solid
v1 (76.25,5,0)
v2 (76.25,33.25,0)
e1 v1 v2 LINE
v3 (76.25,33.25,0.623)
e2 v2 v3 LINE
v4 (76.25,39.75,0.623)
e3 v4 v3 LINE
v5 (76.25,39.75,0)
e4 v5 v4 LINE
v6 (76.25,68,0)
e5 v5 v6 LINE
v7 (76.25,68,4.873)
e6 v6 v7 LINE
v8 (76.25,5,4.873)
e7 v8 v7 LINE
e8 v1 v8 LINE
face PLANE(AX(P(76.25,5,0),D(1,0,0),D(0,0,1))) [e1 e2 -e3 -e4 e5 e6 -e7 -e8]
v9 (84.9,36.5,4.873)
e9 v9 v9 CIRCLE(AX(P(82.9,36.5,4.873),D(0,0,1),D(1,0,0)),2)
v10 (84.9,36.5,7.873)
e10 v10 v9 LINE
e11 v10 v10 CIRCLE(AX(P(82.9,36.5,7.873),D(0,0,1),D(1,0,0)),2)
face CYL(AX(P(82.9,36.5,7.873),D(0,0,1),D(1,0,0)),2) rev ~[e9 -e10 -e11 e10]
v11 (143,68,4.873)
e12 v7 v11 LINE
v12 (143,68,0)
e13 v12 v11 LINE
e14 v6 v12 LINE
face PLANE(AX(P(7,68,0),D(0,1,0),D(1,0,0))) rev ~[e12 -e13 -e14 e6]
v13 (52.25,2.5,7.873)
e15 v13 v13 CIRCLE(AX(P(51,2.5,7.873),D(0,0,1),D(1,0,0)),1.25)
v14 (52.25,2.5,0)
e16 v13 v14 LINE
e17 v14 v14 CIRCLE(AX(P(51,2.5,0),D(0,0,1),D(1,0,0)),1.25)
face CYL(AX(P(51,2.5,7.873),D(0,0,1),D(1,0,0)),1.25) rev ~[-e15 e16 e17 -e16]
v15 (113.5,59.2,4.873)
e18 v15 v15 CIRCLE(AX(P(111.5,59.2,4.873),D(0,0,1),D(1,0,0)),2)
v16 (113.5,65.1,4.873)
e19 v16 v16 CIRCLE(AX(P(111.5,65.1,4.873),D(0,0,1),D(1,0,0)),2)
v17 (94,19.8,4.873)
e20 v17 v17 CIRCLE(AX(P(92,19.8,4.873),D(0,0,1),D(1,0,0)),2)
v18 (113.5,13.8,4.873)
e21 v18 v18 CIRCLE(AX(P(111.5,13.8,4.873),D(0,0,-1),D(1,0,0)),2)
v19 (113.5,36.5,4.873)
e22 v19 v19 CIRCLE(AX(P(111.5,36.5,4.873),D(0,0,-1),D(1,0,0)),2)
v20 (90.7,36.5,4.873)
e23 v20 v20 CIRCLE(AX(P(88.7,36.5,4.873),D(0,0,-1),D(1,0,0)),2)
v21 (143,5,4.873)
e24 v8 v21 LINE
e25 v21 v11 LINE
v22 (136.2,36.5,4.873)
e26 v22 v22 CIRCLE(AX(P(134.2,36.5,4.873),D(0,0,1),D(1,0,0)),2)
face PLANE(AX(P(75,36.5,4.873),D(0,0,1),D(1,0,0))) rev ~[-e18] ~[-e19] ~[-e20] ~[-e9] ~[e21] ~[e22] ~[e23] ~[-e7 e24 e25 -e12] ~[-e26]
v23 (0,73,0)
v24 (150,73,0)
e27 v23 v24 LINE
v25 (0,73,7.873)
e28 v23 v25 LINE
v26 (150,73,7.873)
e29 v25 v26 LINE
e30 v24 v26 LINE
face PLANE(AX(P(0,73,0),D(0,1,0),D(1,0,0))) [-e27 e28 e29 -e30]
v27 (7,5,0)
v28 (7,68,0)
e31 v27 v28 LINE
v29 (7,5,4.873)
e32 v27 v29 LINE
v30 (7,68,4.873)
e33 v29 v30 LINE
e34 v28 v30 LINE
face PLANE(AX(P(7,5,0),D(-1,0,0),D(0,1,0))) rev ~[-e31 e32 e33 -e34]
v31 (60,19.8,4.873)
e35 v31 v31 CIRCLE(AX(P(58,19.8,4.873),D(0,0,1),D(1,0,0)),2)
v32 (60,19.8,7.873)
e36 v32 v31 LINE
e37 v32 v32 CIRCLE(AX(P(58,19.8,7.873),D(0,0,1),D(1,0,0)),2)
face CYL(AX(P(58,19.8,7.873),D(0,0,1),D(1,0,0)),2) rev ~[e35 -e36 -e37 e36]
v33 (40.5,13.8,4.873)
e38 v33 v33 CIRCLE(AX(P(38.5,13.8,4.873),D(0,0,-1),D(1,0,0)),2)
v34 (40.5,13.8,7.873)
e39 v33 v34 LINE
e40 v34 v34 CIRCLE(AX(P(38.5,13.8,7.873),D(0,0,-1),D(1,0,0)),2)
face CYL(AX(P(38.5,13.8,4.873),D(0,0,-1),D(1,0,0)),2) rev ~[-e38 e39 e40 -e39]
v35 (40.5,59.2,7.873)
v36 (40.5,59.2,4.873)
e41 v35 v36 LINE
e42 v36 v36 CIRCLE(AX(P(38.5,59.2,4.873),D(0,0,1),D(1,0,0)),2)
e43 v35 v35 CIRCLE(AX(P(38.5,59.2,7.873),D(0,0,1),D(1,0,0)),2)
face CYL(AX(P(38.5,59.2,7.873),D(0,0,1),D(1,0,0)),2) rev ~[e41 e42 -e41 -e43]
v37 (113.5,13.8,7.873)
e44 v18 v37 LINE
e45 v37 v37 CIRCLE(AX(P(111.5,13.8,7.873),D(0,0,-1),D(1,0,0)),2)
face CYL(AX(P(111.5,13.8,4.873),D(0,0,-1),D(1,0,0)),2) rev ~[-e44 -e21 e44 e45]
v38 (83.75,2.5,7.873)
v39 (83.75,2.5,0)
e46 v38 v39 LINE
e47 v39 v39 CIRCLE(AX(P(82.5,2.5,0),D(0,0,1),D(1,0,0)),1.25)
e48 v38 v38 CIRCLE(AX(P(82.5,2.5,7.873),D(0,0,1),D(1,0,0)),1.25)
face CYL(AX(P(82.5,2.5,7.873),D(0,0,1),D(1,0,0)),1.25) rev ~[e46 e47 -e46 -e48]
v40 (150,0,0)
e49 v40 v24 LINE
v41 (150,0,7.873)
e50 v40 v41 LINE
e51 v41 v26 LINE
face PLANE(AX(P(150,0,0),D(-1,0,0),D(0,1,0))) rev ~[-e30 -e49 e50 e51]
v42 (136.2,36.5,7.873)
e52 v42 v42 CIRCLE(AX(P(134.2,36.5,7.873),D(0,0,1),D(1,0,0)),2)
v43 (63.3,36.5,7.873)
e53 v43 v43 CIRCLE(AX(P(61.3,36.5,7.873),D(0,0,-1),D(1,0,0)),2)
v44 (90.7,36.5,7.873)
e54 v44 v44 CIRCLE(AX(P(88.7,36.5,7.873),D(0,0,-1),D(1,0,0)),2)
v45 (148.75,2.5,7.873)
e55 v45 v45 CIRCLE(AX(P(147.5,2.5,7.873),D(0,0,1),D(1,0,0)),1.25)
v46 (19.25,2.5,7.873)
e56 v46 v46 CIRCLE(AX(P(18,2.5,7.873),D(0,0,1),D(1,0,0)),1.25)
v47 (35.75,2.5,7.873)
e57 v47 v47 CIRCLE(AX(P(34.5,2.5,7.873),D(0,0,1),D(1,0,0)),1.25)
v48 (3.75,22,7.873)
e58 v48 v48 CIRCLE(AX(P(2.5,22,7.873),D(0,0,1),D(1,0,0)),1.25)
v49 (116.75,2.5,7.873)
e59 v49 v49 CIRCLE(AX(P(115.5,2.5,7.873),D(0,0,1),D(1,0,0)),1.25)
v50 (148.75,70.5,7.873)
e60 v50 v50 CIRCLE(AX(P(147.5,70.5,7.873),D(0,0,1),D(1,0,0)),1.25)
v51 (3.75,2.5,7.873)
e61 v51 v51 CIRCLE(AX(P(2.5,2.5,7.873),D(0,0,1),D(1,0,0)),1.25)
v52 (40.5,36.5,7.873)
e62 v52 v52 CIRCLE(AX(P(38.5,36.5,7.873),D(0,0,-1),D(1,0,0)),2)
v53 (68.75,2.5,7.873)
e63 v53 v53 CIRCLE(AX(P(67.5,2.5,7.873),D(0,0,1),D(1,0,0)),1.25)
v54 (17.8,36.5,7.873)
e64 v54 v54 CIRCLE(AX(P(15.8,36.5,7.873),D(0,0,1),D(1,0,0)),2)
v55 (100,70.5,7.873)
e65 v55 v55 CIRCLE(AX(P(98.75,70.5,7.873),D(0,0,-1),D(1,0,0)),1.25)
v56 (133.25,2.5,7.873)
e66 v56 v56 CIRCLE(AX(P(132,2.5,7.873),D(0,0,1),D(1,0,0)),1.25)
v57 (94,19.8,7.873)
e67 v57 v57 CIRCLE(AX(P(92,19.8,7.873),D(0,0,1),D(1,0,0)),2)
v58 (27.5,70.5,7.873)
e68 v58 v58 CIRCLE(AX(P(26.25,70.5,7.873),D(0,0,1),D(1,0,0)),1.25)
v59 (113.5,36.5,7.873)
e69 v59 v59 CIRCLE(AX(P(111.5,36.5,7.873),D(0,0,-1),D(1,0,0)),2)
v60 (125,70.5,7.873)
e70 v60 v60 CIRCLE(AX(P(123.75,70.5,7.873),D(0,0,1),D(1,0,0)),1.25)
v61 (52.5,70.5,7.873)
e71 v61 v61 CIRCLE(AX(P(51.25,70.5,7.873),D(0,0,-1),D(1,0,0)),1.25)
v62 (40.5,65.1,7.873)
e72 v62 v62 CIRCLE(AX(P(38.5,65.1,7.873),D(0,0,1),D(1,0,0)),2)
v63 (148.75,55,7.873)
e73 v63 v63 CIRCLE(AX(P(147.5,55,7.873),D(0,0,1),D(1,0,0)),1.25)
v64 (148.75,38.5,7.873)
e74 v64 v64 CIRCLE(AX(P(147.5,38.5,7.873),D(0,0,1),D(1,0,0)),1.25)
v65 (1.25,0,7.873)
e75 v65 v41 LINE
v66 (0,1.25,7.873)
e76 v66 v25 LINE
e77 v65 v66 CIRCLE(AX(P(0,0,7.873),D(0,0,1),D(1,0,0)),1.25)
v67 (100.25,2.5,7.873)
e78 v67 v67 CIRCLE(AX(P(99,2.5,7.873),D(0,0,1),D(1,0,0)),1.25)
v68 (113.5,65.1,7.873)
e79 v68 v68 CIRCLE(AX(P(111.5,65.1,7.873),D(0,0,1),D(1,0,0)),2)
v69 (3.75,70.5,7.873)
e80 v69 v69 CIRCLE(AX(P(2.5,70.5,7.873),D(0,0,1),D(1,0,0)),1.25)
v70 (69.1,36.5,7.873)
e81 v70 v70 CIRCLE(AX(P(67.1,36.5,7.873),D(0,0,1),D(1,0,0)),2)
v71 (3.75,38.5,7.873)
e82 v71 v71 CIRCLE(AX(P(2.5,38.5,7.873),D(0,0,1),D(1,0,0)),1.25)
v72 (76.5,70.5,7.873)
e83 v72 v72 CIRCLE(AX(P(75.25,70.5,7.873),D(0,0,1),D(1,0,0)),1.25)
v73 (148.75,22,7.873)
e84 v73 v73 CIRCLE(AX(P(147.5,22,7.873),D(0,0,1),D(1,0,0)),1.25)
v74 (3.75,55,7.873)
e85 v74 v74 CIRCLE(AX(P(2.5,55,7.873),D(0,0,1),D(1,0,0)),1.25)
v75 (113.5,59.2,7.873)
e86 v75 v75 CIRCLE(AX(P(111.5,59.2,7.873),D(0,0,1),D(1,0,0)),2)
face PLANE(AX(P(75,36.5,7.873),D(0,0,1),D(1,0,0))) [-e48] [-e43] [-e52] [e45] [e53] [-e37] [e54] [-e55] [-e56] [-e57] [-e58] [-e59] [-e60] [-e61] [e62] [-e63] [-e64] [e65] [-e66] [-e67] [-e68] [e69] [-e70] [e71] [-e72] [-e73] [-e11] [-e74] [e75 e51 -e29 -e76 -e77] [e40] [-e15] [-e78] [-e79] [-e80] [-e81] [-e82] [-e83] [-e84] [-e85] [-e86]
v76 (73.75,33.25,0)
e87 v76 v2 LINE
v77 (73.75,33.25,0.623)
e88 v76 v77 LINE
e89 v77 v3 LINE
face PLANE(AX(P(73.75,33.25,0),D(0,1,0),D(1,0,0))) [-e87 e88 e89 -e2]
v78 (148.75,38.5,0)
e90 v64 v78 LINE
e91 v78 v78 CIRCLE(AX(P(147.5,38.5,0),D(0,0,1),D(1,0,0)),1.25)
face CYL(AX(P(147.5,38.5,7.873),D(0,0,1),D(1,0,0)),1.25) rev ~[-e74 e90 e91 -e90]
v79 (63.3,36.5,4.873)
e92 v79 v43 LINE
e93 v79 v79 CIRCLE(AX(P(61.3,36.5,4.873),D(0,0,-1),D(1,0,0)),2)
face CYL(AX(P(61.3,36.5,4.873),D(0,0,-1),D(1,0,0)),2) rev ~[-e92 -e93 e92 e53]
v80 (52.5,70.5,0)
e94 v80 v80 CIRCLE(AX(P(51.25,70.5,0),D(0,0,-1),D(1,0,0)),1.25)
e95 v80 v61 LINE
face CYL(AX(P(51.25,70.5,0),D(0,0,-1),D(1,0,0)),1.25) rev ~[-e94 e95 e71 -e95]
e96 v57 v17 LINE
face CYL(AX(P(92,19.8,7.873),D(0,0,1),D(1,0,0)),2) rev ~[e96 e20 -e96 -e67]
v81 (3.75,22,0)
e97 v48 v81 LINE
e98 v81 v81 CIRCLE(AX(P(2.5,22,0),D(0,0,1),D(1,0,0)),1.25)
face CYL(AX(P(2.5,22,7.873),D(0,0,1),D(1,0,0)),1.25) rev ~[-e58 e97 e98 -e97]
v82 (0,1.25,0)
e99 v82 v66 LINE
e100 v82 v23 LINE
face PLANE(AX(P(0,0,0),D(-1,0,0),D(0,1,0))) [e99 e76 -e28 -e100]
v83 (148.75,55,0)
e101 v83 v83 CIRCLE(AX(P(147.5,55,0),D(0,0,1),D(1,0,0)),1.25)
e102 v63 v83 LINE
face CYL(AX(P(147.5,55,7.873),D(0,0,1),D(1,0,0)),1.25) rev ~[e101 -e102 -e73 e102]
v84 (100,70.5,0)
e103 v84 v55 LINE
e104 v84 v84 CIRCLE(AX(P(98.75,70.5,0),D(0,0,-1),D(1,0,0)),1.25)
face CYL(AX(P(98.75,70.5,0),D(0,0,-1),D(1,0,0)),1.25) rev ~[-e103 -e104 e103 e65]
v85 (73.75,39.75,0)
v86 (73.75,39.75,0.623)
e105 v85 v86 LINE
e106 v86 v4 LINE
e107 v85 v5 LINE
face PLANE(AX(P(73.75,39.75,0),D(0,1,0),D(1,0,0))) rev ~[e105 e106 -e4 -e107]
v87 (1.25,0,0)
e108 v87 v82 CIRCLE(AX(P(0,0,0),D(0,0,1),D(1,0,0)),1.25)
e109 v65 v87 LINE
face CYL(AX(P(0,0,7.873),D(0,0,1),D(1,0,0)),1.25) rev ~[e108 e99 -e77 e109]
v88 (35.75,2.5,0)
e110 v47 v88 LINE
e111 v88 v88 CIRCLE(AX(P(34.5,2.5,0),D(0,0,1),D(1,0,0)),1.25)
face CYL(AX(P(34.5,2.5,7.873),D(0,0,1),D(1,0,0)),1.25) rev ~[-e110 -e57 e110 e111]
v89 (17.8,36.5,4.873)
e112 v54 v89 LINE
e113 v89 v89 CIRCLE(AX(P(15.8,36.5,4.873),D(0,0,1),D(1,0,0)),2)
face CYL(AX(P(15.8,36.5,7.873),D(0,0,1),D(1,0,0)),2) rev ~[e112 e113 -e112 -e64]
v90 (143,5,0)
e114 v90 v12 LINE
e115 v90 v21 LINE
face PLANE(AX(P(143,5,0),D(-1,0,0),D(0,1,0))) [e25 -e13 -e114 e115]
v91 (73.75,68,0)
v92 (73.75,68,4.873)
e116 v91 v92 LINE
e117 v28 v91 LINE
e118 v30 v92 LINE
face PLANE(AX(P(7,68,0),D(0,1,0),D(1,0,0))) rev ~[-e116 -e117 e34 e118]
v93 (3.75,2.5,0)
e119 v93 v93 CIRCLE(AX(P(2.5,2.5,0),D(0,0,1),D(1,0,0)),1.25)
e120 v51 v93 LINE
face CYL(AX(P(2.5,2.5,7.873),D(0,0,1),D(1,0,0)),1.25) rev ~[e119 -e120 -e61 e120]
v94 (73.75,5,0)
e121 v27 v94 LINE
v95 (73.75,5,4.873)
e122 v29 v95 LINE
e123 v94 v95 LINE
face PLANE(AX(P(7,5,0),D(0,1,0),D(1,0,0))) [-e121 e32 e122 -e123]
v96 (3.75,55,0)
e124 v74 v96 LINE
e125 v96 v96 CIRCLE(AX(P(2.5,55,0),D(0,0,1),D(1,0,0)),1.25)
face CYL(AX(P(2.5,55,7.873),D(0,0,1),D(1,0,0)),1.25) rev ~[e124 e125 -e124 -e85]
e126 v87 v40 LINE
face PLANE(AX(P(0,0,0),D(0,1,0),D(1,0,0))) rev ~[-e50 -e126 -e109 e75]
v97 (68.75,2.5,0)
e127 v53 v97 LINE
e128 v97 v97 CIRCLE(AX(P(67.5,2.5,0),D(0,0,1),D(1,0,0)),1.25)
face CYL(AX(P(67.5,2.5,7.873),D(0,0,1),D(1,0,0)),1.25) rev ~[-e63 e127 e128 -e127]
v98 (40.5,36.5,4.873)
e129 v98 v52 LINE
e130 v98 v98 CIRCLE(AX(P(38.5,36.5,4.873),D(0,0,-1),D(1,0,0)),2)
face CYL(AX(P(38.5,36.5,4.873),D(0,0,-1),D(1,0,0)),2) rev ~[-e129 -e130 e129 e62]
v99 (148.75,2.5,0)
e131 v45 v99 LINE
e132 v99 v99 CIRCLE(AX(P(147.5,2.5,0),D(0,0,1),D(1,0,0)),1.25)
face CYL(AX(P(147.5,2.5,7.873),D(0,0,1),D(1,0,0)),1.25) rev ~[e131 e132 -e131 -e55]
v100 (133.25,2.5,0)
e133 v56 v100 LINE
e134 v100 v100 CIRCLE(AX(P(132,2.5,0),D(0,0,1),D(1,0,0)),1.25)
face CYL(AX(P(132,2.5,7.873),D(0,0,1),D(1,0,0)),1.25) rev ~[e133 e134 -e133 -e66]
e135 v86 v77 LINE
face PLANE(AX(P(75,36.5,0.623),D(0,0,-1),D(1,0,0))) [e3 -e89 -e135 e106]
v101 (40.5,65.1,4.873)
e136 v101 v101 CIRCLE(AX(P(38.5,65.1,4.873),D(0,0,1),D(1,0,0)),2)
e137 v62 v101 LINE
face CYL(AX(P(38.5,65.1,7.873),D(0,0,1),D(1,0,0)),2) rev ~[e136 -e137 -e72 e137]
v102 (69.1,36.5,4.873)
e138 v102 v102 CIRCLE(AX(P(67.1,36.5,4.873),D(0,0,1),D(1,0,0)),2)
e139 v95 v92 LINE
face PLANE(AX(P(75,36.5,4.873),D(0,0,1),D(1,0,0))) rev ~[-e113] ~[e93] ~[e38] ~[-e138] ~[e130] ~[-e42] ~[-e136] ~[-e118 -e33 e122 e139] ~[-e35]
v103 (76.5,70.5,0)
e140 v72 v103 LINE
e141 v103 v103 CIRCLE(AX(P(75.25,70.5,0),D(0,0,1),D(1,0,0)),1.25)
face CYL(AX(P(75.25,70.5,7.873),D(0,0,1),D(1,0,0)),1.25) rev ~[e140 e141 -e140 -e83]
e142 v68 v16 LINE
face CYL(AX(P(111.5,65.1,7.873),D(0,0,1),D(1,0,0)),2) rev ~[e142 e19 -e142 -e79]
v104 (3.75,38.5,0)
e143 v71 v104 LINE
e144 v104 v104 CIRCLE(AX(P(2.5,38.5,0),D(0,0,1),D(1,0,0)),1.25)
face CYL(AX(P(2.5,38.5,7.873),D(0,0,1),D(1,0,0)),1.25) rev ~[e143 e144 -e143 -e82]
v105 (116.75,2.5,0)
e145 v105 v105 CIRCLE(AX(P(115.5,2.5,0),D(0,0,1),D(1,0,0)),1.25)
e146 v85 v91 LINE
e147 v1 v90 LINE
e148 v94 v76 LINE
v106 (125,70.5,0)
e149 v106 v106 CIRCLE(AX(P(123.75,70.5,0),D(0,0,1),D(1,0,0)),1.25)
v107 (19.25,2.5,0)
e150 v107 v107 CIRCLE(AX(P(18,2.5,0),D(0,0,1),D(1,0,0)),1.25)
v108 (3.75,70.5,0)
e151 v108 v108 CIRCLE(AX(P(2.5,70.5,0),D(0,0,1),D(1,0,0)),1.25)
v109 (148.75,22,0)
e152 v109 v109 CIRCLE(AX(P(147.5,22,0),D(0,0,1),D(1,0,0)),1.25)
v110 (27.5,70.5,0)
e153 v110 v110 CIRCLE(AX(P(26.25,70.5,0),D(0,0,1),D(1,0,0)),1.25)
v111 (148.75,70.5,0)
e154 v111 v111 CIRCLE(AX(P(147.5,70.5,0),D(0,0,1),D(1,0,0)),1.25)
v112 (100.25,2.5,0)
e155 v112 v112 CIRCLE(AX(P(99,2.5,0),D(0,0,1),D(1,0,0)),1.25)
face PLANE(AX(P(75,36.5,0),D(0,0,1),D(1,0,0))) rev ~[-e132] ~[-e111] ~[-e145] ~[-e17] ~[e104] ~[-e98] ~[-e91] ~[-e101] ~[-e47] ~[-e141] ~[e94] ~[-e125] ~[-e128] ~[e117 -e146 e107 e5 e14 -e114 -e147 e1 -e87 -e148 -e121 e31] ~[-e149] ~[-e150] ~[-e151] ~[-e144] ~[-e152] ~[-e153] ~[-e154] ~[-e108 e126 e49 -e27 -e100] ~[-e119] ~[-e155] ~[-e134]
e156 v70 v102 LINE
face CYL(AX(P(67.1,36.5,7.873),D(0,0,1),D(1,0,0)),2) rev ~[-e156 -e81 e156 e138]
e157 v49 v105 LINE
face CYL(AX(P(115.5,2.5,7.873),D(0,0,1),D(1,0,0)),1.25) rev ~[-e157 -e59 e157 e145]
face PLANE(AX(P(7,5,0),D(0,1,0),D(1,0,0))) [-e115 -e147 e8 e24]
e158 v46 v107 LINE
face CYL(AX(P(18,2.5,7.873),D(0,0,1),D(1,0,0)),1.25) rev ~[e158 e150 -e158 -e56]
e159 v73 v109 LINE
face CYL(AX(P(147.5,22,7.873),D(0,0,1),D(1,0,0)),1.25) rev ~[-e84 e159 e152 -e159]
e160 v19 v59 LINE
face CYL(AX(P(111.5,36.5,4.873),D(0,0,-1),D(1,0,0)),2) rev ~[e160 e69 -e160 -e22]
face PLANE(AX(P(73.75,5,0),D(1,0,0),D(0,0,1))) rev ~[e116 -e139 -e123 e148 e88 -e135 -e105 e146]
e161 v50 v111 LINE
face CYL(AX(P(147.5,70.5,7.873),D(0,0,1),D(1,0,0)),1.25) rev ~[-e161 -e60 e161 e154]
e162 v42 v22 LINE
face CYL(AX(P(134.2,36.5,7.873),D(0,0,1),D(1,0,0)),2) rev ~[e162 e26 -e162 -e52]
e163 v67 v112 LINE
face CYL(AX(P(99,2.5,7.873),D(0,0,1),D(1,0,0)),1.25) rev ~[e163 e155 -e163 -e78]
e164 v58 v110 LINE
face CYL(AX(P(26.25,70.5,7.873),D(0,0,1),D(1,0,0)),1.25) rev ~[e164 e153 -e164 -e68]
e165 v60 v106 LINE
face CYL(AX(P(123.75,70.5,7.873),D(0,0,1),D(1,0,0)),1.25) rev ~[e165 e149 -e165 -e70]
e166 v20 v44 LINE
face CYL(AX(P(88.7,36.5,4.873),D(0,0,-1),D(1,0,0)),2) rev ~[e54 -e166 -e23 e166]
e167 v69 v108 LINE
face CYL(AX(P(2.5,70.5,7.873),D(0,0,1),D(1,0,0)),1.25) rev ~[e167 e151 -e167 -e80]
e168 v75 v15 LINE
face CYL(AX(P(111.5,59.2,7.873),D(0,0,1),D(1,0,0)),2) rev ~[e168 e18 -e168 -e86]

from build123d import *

# Parameters (mm, degrees)
F0_W      = 150
F0_H      = 73
F1_DEPTH  = 7.873
F2_W      = 136
F2_H      = 63
F3_DEPTH  = 4.873
F4_R      = 1.25
F5_DEPTH  = 7.873
F6_R      = 1.25
F7_DEPTH  = 7.873
F8_R      = 1.25
F9_DEPTH  = 7.873
F10_R     = 1.25
F11_DEPTH = 7.873
F12_R     = 1.25
F13_DEPTH = 7.873
F14_R     = 1.25
F15_DEPTH = 7.873
F16_R     = 1.25
F17_DEPTH = 7.873
F18_R     = 1.25
F19_DEPTH = 7.873
F20_R     = 1.25
F21_DEPTH = 7.873
F22_R     = 1.25
F23_DEPTH = 7.873
F24_R     = 1.25
F25_DEPTH = 7.873
F26_R     = 1.25
F27_DEPTH = 7.873
F28_R     = 1.25
F29_DEPTH = 7.873
F30_R     = 1.25
F31_DEPTH = 7.873
F32_R     = 1.25
F33_DEPTH = 7.873
F34_R     = 1.25
F35_DEPTH = 7.873
F36_R     = 1.25
F37_DEPTH = 7.873
F38_R     = 1.25
F39_DEPTH = 7.873
F40_R     = 1.25
F41_DEPTH = 7.873
F42_R     = 1.25
F43_DEPTH = 7.873
F44_R     = 1.25
F45_DEPTH = 7.873
F46_R     = 2
F47_DEPTH = 3
F48_R     = 2
F49_DEPTH = 3
F50_R     = 2
F51_DEPTH = 3
F52_R     = 2
F53_DEPTH = 3
F54_R     = 2
F55_DEPTH = 3
F56_R     = 2
F57_DEPTH = 3
F58_R     = 2
F59_DEPTH = 3
F60_R     = 2
F61_DEPTH = 3
F62_R     = 2
F63_DEPTH = 3
F64_R     = 2
F65_DEPTH = 3
F66_W     = 2.5
F66_H     = 4.873
F67_DEPTH = 63
F68_W     = 2.5
F68_H     = 6.5
F69_DEPTH = 0.623
F70_R     = 2
F71_DEPTH = 3
F73_R     = 2
F74_DEPTH = 3
F75_R     = 2
F76_DEPTH = 3
F77_R     = 2
F78_DEPTH = 3
F79_R     = 2
F80_DEPTH = 3
F72_R     = 2
F81_DEPTH = 3
F82_R     = 1.25
F83_DEPTH = 7.873
F84_R     = 1.25
F85_DEPTH = 7.873


with BuildPart() as f1:
    # F0 (on Top) → F1 (new body)
    with BuildSketch(Plane.XY):
        with Locations((75, 36.5)):
            Rectangle(F0_W, F0_H)
    extrude(amount=F1_DEPTH)

    # F2 (on Top) → F3 (cut)
    with BuildSketch(Plane.XY):
        with Locations((75, 36.5)):
            Rectangle(F2_W, F2_H)
    extrude(amount=F3_DEPTH, mode=Mode.SUBTRACT)

    # F4 (on face) → F5 (cut)
    with BuildSketch(Plane.XY.offset(7.873)):
        with Locations((2.5, 2.5)):
            Circle(F4_R)
    extrude(amount=-F5_DEPTH, mode=Mode.SUBTRACT)

    # F6 (on face) → F7 (cut)
    with BuildSketch(Plane.XY.offset(7.873)):
        with Locations((18, 2.5)):
            Circle(F6_R)
    extrude(amount=-F7_DEPTH, mode=Mode.SUBTRACT)

    # F8 (on face) → F9 (cut)
    with BuildSketch(Plane.XY.offset(7.873)):
        with Locations((34.5, 2.5)):
            Circle(F8_R)
    extrude(amount=-F9_DEPTH, mode=Mode.SUBTRACT)

    # F10 (on face) → F11 (cut)
    with BuildSketch(Plane.XY.offset(7.873)):
        with Locations((51, 2.5)):
            Circle(F10_R)
    extrude(amount=-F11_DEPTH, mode=Mode.SUBTRACT)

    # F12 (on face) → F13 (cut)
    with BuildSketch(Plane.XY.offset(7.873)):
        with Locations((67.5, 2.5)):
            Circle(F12_R)
    extrude(amount=-F13_DEPTH, mode=Mode.SUBTRACT)

    # F14 (on face) → F15 (cut)
    with BuildSketch(Plane.XY.offset(7.873)):
        with Locations((82.5, 2.5)):
            Circle(F14_R)
    extrude(amount=-F15_DEPTH, mode=Mode.SUBTRACT)

    # F16 (on face) → F17 (cut)
    with BuildSketch(Plane.XY.offset(7.873)):
        with Locations((99, 2.5)):
            Circle(F16_R)
    extrude(amount=-F17_DEPTH, mode=Mode.SUBTRACT)

    # F18 (on face) → F19 (cut)
    with BuildSketch(Plane.XY.offset(7.873)):
        with Locations((115.5, 2.5)):
            Circle(F18_R)
    extrude(amount=-F19_DEPTH, mode=Mode.SUBTRACT)

    # F20 (on face) → F21 (cut)
    with BuildSketch(Plane.XY.offset(7.873)):
        with Locations((132, 2.5)):
            Circle(F20_R)
    extrude(amount=-F21_DEPTH, mode=Mode.SUBTRACT)

    # F22 (on face) → F23 (cut)
    with BuildSketch(Plane.XY.offset(7.873)):
        with Locations((147.5, 2.5)):
            Circle(F22_R)
    extrude(amount=-F23_DEPTH, mode=Mode.SUBTRACT)

    # F24 (on face) → F25 (cut)
    with BuildSketch(Plane.XY.offset(7.873)):
        with Locations((2.5, 22)):
            Circle(F24_R)
    extrude(amount=-F25_DEPTH, mode=Mode.SUBTRACT)

    # F26 (on face) → F27 (cut)
    with BuildSketch(Plane.XY.offset(7.873)):
        with Locations((147.5, 22)):
            Circle(F26_R)
    extrude(amount=-F27_DEPTH, mode=Mode.SUBTRACT)

    # F28 (on face) → F29 (cut)
    with BuildSketch(Plane.XY.offset(7.873)):
        with Locations((147.5, 38.5)):
            Circle(F28_R)
    extrude(amount=-F29_DEPTH, mode=Mode.SUBTRACT)

    # F30 (on face) → F31 (cut)
    with BuildSketch(Plane.XY.offset(7.873)):
        with Locations((2.5, 38.5)):
            Circle(F30_R)
    extrude(amount=-F31_DEPTH, mode=Mode.SUBTRACT)

    # F32 (on face) → F33 (cut)
    with BuildSketch(Plane.XY.offset(7.873)):
        with Locations((2.5, 55)):
            Circle(F32_R)
    extrude(amount=-F33_DEPTH, mode=Mode.SUBTRACT)

    # F34 (on face) → F35 (cut)
    with BuildSketch(Plane.XY.offset(7.873)):
        with Locations((147.5, 55)):
            Circle(F34_R)
    extrude(amount=-F35_DEPTH, mode=Mode.SUBTRACT)

    # F36 (on face) → F37 (cut)
    with BuildSketch(Plane.XY.offset(7.873)):
        with Locations((2.5, 70.5)):
            Circle(F36_R)
    extrude(amount=-F37_DEPTH, mode=Mode.SUBTRACT)

    # F38 (on face) → F39 (cut)
    with BuildSketch(Plane.XY.offset(7.873)):
        with Locations((147.5, 70.5)):
            Circle(F38_R)
    extrude(amount=-F39_DEPTH, mode=Mode.SUBTRACT)

    # F40 (on face) → F41 (cut)
    with BuildSketch(Plane.XY.offset(7.873)):
        with Locations((26.25, 70.5)):
            Circle(F40_R)
        Circle(F40_R)
    extrude(amount=-F41_DEPTH, mode=Mode.SUBTRACT)

    # F42 (on face) → F43 (cut)
    with BuildSketch(Plane.XY.offset(7.873)):
        with Locations((123.75, 70.5)):
            Circle(F42_R)
    extrude(amount=-F43_DEPTH, mode=Mode.SUBTRACT)

    # F44 (on face) → F45 (cut)
    with BuildSketch(Plane.XY.offset(7.873)):
        with Locations((75.25, 70.5)):
            Circle(F44_R)
    extrude(amount=-F45_DEPTH, mode=Mode.SUBTRACT)

    # F46 (on face) → F47 (cut)
    with BuildSketch(Plane.XY.offset(7.873)):
        with Locations((38.5, 65.1)):
            Circle(F46_R)
    extrude(amount=-F47_DEPTH, mode=Mode.SUBTRACT)

    # F48 (on face) → F49 (cut)
    with BuildSketch(Plane.XY.offset(7.873)):
        with Locations((38.5, 59.2)):
            Circle(F48_R)
    extrude(amount=-F49_DEPTH, mode=Mode.SUBTRACT)

    # F50 (on face) → F51 (cut)
    with BuildSketch(Plane.XY.offset(7.873)):
        with Locations((15.8, 36.5)):
            Circle(F50_R)
    extrude(amount=-F51_DEPTH, mode=Mode.SUBTRACT)

    # F52 (on face) → F53 (cut)
    with BuildSketch(Plane.XY.offset(7.873)):
        with Locations((67.1, 36.5)):
            Circle(F52_R)
    extrude(amount=-F53_DEPTH, mode=Mode.SUBTRACT)

    # F54 (on face) → F55 (cut)
    with BuildSketch(Plane.XY.offset(7.873)):
        with Locations((111.5, 65.1)):
            Circle(F54_R)
    extrude(amount=-F55_DEPTH, mode=Mode.SUBTRACT)

    # F56 (on face) → F57 (cut)
    with BuildSketch(Plane.XY.offset(7.873)):
        with Locations((111.5, 59.2)):
            Circle(F56_R)
    extrude(amount=-F57_DEPTH, mode=Mode.SUBTRACT)

    # F58 (on face) → F59 (cut)
    with BuildSketch(Plane.XY.offset(7.873)):
        with Locations((82.9, 36.5)):
            Circle(F58_R)
    extrude(amount=-F59_DEPTH, mode=Mode.SUBTRACT)

    # F60 (on face) → F61 (cut)
    with BuildSketch(Plane.XY.offset(7.873)):
        with Locations((134.2, 36.5)):
            Circle(F60_R)
    extrude(amount=-F61_DEPTH, mode=Mode.SUBTRACT)

    # F62 (on face) → F63 (cut)
    with BuildSketch(Plane.XY.offset(7.873)):
        with Locations((58, 19.8)):
            Circle(F62_R)
    extrude(amount=-F63_DEPTH, mode=Mode.SUBTRACT)

    # F64 (on face) → F65 (cut)
    with BuildSketch(Plane.XY.offset(7.873)):
        with Locations((92, 19.8)):
            Circle(F64_R)
    extrude(amount=-F65_DEPTH, mode=Mode.SUBTRACT)

    # F66 (on face) → F67 (join)
    with BuildSketch(Plane(origin=(0, 5, 0), x_dir=(-1, 0, 0), z_dir=(0, 1, 0))):
        with Locations((-75, 2.4365)):
            Rectangle(F66_W, F66_H)
    extrude(amount=F67_DEPTH)

    # F68 (on face) → F69 (cut)
    with BuildSketch(Plane(origin=(0, 0, 0), x_dir=(1, 0, 0), z_dir=(0, 0, -1))):
        with Locations((75, -36.5)):
            Rectangle(F68_W, F68_H)
    extrude(amount=-F69_DEPTH, mode=Mode.SUBTRACT)

    # F70 (on face) → F71 (cut)
    with BuildSketch(Plane(origin=(0, 0, 4.873), x_dir=(1, 0, 0), z_dir=(0, 0, -1))):
        with Locations((38.5, -13.8)):
            Circle(F70_R)
    extrude(amount=-F71_DEPTH, mode=Mode.SUBTRACT)

    # F73 (on face) → F74 (cut)
    with BuildSketch(Plane(origin=(0, 0, 4.873), x_dir=(1, 0, 0), z_dir=(0, 0, -1))):
        with Locations((111.5, -36.5)):
            Circle(F73_R)
    extrude(amount=-F74_DEPTH, mode=Mode.SUBTRACT)

    # F75 (on face) → F76 (cut)
    with BuildSketch(Plane(origin=(0, 0, 4.873), x_dir=(1, 0, 0), z_dir=(0, 0, -1))):
        with Locations((111.5, -13.8)):
            Circle(F75_R)
    extrude(amount=-F76_DEPTH, mode=Mode.SUBTRACT)

    # F77 (on face) → F78 (cut)
    with BuildSketch(Plane(origin=(0, 0, 4.873), x_dir=(1, 0, 0), z_dir=(0, 0, -1))):
        with Locations((61.3, -36.5)):
            Circle(F77_R)
    extrude(amount=-F78_DEPTH, mode=Mode.SUBTRACT)

    # F79 (on face) → F80 (cut)
    with BuildSketch(Plane(origin=(0, 0, 4.873), x_dir=(1, 0, 0), z_dir=(0, 0, -1))):
        with Locations((88.7, -36.5)):
            Circle(F79_R)
    extrude(amount=-F80_DEPTH, mode=Mode.SUBTRACT)

    # F72 (on face) → F81 (cut)
    with BuildSketch(Plane(origin=(0, 0, 4.873), x_dir=(1, 0, 0), z_dir=(0, 0, -1))):
        with Locations((38.5, -36.5)):
            Circle(F72_R)
    extrude(amount=-F81_DEPTH, mode=Mode.SUBTRACT)

    # F82 (on face) → F83 (cut)
    with BuildSketch(Plane(origin=(0, 0, 0), x_dir=(1, 0, 0), z_dir=(0, 0, -1))):
        with Locations((51.25, -70.5)):
            Circle(F82_R)
    extrude(amount=-F83_DEPTH, mode=Mode.SUBTRACT)

    # F84 (on face) → F85 (cut)
    with BuildSketch(Plane(origin=(0, 0, 0), x_dir=(1, 0, 0), z_dir=(0, 0, -1))):
        with Locations((98.75, -70.5)):
            Circle(F84_R)
    extrude(amount=-F85_DEPTH, mode=Mode.SUBTRACT)


solid = f1.part
